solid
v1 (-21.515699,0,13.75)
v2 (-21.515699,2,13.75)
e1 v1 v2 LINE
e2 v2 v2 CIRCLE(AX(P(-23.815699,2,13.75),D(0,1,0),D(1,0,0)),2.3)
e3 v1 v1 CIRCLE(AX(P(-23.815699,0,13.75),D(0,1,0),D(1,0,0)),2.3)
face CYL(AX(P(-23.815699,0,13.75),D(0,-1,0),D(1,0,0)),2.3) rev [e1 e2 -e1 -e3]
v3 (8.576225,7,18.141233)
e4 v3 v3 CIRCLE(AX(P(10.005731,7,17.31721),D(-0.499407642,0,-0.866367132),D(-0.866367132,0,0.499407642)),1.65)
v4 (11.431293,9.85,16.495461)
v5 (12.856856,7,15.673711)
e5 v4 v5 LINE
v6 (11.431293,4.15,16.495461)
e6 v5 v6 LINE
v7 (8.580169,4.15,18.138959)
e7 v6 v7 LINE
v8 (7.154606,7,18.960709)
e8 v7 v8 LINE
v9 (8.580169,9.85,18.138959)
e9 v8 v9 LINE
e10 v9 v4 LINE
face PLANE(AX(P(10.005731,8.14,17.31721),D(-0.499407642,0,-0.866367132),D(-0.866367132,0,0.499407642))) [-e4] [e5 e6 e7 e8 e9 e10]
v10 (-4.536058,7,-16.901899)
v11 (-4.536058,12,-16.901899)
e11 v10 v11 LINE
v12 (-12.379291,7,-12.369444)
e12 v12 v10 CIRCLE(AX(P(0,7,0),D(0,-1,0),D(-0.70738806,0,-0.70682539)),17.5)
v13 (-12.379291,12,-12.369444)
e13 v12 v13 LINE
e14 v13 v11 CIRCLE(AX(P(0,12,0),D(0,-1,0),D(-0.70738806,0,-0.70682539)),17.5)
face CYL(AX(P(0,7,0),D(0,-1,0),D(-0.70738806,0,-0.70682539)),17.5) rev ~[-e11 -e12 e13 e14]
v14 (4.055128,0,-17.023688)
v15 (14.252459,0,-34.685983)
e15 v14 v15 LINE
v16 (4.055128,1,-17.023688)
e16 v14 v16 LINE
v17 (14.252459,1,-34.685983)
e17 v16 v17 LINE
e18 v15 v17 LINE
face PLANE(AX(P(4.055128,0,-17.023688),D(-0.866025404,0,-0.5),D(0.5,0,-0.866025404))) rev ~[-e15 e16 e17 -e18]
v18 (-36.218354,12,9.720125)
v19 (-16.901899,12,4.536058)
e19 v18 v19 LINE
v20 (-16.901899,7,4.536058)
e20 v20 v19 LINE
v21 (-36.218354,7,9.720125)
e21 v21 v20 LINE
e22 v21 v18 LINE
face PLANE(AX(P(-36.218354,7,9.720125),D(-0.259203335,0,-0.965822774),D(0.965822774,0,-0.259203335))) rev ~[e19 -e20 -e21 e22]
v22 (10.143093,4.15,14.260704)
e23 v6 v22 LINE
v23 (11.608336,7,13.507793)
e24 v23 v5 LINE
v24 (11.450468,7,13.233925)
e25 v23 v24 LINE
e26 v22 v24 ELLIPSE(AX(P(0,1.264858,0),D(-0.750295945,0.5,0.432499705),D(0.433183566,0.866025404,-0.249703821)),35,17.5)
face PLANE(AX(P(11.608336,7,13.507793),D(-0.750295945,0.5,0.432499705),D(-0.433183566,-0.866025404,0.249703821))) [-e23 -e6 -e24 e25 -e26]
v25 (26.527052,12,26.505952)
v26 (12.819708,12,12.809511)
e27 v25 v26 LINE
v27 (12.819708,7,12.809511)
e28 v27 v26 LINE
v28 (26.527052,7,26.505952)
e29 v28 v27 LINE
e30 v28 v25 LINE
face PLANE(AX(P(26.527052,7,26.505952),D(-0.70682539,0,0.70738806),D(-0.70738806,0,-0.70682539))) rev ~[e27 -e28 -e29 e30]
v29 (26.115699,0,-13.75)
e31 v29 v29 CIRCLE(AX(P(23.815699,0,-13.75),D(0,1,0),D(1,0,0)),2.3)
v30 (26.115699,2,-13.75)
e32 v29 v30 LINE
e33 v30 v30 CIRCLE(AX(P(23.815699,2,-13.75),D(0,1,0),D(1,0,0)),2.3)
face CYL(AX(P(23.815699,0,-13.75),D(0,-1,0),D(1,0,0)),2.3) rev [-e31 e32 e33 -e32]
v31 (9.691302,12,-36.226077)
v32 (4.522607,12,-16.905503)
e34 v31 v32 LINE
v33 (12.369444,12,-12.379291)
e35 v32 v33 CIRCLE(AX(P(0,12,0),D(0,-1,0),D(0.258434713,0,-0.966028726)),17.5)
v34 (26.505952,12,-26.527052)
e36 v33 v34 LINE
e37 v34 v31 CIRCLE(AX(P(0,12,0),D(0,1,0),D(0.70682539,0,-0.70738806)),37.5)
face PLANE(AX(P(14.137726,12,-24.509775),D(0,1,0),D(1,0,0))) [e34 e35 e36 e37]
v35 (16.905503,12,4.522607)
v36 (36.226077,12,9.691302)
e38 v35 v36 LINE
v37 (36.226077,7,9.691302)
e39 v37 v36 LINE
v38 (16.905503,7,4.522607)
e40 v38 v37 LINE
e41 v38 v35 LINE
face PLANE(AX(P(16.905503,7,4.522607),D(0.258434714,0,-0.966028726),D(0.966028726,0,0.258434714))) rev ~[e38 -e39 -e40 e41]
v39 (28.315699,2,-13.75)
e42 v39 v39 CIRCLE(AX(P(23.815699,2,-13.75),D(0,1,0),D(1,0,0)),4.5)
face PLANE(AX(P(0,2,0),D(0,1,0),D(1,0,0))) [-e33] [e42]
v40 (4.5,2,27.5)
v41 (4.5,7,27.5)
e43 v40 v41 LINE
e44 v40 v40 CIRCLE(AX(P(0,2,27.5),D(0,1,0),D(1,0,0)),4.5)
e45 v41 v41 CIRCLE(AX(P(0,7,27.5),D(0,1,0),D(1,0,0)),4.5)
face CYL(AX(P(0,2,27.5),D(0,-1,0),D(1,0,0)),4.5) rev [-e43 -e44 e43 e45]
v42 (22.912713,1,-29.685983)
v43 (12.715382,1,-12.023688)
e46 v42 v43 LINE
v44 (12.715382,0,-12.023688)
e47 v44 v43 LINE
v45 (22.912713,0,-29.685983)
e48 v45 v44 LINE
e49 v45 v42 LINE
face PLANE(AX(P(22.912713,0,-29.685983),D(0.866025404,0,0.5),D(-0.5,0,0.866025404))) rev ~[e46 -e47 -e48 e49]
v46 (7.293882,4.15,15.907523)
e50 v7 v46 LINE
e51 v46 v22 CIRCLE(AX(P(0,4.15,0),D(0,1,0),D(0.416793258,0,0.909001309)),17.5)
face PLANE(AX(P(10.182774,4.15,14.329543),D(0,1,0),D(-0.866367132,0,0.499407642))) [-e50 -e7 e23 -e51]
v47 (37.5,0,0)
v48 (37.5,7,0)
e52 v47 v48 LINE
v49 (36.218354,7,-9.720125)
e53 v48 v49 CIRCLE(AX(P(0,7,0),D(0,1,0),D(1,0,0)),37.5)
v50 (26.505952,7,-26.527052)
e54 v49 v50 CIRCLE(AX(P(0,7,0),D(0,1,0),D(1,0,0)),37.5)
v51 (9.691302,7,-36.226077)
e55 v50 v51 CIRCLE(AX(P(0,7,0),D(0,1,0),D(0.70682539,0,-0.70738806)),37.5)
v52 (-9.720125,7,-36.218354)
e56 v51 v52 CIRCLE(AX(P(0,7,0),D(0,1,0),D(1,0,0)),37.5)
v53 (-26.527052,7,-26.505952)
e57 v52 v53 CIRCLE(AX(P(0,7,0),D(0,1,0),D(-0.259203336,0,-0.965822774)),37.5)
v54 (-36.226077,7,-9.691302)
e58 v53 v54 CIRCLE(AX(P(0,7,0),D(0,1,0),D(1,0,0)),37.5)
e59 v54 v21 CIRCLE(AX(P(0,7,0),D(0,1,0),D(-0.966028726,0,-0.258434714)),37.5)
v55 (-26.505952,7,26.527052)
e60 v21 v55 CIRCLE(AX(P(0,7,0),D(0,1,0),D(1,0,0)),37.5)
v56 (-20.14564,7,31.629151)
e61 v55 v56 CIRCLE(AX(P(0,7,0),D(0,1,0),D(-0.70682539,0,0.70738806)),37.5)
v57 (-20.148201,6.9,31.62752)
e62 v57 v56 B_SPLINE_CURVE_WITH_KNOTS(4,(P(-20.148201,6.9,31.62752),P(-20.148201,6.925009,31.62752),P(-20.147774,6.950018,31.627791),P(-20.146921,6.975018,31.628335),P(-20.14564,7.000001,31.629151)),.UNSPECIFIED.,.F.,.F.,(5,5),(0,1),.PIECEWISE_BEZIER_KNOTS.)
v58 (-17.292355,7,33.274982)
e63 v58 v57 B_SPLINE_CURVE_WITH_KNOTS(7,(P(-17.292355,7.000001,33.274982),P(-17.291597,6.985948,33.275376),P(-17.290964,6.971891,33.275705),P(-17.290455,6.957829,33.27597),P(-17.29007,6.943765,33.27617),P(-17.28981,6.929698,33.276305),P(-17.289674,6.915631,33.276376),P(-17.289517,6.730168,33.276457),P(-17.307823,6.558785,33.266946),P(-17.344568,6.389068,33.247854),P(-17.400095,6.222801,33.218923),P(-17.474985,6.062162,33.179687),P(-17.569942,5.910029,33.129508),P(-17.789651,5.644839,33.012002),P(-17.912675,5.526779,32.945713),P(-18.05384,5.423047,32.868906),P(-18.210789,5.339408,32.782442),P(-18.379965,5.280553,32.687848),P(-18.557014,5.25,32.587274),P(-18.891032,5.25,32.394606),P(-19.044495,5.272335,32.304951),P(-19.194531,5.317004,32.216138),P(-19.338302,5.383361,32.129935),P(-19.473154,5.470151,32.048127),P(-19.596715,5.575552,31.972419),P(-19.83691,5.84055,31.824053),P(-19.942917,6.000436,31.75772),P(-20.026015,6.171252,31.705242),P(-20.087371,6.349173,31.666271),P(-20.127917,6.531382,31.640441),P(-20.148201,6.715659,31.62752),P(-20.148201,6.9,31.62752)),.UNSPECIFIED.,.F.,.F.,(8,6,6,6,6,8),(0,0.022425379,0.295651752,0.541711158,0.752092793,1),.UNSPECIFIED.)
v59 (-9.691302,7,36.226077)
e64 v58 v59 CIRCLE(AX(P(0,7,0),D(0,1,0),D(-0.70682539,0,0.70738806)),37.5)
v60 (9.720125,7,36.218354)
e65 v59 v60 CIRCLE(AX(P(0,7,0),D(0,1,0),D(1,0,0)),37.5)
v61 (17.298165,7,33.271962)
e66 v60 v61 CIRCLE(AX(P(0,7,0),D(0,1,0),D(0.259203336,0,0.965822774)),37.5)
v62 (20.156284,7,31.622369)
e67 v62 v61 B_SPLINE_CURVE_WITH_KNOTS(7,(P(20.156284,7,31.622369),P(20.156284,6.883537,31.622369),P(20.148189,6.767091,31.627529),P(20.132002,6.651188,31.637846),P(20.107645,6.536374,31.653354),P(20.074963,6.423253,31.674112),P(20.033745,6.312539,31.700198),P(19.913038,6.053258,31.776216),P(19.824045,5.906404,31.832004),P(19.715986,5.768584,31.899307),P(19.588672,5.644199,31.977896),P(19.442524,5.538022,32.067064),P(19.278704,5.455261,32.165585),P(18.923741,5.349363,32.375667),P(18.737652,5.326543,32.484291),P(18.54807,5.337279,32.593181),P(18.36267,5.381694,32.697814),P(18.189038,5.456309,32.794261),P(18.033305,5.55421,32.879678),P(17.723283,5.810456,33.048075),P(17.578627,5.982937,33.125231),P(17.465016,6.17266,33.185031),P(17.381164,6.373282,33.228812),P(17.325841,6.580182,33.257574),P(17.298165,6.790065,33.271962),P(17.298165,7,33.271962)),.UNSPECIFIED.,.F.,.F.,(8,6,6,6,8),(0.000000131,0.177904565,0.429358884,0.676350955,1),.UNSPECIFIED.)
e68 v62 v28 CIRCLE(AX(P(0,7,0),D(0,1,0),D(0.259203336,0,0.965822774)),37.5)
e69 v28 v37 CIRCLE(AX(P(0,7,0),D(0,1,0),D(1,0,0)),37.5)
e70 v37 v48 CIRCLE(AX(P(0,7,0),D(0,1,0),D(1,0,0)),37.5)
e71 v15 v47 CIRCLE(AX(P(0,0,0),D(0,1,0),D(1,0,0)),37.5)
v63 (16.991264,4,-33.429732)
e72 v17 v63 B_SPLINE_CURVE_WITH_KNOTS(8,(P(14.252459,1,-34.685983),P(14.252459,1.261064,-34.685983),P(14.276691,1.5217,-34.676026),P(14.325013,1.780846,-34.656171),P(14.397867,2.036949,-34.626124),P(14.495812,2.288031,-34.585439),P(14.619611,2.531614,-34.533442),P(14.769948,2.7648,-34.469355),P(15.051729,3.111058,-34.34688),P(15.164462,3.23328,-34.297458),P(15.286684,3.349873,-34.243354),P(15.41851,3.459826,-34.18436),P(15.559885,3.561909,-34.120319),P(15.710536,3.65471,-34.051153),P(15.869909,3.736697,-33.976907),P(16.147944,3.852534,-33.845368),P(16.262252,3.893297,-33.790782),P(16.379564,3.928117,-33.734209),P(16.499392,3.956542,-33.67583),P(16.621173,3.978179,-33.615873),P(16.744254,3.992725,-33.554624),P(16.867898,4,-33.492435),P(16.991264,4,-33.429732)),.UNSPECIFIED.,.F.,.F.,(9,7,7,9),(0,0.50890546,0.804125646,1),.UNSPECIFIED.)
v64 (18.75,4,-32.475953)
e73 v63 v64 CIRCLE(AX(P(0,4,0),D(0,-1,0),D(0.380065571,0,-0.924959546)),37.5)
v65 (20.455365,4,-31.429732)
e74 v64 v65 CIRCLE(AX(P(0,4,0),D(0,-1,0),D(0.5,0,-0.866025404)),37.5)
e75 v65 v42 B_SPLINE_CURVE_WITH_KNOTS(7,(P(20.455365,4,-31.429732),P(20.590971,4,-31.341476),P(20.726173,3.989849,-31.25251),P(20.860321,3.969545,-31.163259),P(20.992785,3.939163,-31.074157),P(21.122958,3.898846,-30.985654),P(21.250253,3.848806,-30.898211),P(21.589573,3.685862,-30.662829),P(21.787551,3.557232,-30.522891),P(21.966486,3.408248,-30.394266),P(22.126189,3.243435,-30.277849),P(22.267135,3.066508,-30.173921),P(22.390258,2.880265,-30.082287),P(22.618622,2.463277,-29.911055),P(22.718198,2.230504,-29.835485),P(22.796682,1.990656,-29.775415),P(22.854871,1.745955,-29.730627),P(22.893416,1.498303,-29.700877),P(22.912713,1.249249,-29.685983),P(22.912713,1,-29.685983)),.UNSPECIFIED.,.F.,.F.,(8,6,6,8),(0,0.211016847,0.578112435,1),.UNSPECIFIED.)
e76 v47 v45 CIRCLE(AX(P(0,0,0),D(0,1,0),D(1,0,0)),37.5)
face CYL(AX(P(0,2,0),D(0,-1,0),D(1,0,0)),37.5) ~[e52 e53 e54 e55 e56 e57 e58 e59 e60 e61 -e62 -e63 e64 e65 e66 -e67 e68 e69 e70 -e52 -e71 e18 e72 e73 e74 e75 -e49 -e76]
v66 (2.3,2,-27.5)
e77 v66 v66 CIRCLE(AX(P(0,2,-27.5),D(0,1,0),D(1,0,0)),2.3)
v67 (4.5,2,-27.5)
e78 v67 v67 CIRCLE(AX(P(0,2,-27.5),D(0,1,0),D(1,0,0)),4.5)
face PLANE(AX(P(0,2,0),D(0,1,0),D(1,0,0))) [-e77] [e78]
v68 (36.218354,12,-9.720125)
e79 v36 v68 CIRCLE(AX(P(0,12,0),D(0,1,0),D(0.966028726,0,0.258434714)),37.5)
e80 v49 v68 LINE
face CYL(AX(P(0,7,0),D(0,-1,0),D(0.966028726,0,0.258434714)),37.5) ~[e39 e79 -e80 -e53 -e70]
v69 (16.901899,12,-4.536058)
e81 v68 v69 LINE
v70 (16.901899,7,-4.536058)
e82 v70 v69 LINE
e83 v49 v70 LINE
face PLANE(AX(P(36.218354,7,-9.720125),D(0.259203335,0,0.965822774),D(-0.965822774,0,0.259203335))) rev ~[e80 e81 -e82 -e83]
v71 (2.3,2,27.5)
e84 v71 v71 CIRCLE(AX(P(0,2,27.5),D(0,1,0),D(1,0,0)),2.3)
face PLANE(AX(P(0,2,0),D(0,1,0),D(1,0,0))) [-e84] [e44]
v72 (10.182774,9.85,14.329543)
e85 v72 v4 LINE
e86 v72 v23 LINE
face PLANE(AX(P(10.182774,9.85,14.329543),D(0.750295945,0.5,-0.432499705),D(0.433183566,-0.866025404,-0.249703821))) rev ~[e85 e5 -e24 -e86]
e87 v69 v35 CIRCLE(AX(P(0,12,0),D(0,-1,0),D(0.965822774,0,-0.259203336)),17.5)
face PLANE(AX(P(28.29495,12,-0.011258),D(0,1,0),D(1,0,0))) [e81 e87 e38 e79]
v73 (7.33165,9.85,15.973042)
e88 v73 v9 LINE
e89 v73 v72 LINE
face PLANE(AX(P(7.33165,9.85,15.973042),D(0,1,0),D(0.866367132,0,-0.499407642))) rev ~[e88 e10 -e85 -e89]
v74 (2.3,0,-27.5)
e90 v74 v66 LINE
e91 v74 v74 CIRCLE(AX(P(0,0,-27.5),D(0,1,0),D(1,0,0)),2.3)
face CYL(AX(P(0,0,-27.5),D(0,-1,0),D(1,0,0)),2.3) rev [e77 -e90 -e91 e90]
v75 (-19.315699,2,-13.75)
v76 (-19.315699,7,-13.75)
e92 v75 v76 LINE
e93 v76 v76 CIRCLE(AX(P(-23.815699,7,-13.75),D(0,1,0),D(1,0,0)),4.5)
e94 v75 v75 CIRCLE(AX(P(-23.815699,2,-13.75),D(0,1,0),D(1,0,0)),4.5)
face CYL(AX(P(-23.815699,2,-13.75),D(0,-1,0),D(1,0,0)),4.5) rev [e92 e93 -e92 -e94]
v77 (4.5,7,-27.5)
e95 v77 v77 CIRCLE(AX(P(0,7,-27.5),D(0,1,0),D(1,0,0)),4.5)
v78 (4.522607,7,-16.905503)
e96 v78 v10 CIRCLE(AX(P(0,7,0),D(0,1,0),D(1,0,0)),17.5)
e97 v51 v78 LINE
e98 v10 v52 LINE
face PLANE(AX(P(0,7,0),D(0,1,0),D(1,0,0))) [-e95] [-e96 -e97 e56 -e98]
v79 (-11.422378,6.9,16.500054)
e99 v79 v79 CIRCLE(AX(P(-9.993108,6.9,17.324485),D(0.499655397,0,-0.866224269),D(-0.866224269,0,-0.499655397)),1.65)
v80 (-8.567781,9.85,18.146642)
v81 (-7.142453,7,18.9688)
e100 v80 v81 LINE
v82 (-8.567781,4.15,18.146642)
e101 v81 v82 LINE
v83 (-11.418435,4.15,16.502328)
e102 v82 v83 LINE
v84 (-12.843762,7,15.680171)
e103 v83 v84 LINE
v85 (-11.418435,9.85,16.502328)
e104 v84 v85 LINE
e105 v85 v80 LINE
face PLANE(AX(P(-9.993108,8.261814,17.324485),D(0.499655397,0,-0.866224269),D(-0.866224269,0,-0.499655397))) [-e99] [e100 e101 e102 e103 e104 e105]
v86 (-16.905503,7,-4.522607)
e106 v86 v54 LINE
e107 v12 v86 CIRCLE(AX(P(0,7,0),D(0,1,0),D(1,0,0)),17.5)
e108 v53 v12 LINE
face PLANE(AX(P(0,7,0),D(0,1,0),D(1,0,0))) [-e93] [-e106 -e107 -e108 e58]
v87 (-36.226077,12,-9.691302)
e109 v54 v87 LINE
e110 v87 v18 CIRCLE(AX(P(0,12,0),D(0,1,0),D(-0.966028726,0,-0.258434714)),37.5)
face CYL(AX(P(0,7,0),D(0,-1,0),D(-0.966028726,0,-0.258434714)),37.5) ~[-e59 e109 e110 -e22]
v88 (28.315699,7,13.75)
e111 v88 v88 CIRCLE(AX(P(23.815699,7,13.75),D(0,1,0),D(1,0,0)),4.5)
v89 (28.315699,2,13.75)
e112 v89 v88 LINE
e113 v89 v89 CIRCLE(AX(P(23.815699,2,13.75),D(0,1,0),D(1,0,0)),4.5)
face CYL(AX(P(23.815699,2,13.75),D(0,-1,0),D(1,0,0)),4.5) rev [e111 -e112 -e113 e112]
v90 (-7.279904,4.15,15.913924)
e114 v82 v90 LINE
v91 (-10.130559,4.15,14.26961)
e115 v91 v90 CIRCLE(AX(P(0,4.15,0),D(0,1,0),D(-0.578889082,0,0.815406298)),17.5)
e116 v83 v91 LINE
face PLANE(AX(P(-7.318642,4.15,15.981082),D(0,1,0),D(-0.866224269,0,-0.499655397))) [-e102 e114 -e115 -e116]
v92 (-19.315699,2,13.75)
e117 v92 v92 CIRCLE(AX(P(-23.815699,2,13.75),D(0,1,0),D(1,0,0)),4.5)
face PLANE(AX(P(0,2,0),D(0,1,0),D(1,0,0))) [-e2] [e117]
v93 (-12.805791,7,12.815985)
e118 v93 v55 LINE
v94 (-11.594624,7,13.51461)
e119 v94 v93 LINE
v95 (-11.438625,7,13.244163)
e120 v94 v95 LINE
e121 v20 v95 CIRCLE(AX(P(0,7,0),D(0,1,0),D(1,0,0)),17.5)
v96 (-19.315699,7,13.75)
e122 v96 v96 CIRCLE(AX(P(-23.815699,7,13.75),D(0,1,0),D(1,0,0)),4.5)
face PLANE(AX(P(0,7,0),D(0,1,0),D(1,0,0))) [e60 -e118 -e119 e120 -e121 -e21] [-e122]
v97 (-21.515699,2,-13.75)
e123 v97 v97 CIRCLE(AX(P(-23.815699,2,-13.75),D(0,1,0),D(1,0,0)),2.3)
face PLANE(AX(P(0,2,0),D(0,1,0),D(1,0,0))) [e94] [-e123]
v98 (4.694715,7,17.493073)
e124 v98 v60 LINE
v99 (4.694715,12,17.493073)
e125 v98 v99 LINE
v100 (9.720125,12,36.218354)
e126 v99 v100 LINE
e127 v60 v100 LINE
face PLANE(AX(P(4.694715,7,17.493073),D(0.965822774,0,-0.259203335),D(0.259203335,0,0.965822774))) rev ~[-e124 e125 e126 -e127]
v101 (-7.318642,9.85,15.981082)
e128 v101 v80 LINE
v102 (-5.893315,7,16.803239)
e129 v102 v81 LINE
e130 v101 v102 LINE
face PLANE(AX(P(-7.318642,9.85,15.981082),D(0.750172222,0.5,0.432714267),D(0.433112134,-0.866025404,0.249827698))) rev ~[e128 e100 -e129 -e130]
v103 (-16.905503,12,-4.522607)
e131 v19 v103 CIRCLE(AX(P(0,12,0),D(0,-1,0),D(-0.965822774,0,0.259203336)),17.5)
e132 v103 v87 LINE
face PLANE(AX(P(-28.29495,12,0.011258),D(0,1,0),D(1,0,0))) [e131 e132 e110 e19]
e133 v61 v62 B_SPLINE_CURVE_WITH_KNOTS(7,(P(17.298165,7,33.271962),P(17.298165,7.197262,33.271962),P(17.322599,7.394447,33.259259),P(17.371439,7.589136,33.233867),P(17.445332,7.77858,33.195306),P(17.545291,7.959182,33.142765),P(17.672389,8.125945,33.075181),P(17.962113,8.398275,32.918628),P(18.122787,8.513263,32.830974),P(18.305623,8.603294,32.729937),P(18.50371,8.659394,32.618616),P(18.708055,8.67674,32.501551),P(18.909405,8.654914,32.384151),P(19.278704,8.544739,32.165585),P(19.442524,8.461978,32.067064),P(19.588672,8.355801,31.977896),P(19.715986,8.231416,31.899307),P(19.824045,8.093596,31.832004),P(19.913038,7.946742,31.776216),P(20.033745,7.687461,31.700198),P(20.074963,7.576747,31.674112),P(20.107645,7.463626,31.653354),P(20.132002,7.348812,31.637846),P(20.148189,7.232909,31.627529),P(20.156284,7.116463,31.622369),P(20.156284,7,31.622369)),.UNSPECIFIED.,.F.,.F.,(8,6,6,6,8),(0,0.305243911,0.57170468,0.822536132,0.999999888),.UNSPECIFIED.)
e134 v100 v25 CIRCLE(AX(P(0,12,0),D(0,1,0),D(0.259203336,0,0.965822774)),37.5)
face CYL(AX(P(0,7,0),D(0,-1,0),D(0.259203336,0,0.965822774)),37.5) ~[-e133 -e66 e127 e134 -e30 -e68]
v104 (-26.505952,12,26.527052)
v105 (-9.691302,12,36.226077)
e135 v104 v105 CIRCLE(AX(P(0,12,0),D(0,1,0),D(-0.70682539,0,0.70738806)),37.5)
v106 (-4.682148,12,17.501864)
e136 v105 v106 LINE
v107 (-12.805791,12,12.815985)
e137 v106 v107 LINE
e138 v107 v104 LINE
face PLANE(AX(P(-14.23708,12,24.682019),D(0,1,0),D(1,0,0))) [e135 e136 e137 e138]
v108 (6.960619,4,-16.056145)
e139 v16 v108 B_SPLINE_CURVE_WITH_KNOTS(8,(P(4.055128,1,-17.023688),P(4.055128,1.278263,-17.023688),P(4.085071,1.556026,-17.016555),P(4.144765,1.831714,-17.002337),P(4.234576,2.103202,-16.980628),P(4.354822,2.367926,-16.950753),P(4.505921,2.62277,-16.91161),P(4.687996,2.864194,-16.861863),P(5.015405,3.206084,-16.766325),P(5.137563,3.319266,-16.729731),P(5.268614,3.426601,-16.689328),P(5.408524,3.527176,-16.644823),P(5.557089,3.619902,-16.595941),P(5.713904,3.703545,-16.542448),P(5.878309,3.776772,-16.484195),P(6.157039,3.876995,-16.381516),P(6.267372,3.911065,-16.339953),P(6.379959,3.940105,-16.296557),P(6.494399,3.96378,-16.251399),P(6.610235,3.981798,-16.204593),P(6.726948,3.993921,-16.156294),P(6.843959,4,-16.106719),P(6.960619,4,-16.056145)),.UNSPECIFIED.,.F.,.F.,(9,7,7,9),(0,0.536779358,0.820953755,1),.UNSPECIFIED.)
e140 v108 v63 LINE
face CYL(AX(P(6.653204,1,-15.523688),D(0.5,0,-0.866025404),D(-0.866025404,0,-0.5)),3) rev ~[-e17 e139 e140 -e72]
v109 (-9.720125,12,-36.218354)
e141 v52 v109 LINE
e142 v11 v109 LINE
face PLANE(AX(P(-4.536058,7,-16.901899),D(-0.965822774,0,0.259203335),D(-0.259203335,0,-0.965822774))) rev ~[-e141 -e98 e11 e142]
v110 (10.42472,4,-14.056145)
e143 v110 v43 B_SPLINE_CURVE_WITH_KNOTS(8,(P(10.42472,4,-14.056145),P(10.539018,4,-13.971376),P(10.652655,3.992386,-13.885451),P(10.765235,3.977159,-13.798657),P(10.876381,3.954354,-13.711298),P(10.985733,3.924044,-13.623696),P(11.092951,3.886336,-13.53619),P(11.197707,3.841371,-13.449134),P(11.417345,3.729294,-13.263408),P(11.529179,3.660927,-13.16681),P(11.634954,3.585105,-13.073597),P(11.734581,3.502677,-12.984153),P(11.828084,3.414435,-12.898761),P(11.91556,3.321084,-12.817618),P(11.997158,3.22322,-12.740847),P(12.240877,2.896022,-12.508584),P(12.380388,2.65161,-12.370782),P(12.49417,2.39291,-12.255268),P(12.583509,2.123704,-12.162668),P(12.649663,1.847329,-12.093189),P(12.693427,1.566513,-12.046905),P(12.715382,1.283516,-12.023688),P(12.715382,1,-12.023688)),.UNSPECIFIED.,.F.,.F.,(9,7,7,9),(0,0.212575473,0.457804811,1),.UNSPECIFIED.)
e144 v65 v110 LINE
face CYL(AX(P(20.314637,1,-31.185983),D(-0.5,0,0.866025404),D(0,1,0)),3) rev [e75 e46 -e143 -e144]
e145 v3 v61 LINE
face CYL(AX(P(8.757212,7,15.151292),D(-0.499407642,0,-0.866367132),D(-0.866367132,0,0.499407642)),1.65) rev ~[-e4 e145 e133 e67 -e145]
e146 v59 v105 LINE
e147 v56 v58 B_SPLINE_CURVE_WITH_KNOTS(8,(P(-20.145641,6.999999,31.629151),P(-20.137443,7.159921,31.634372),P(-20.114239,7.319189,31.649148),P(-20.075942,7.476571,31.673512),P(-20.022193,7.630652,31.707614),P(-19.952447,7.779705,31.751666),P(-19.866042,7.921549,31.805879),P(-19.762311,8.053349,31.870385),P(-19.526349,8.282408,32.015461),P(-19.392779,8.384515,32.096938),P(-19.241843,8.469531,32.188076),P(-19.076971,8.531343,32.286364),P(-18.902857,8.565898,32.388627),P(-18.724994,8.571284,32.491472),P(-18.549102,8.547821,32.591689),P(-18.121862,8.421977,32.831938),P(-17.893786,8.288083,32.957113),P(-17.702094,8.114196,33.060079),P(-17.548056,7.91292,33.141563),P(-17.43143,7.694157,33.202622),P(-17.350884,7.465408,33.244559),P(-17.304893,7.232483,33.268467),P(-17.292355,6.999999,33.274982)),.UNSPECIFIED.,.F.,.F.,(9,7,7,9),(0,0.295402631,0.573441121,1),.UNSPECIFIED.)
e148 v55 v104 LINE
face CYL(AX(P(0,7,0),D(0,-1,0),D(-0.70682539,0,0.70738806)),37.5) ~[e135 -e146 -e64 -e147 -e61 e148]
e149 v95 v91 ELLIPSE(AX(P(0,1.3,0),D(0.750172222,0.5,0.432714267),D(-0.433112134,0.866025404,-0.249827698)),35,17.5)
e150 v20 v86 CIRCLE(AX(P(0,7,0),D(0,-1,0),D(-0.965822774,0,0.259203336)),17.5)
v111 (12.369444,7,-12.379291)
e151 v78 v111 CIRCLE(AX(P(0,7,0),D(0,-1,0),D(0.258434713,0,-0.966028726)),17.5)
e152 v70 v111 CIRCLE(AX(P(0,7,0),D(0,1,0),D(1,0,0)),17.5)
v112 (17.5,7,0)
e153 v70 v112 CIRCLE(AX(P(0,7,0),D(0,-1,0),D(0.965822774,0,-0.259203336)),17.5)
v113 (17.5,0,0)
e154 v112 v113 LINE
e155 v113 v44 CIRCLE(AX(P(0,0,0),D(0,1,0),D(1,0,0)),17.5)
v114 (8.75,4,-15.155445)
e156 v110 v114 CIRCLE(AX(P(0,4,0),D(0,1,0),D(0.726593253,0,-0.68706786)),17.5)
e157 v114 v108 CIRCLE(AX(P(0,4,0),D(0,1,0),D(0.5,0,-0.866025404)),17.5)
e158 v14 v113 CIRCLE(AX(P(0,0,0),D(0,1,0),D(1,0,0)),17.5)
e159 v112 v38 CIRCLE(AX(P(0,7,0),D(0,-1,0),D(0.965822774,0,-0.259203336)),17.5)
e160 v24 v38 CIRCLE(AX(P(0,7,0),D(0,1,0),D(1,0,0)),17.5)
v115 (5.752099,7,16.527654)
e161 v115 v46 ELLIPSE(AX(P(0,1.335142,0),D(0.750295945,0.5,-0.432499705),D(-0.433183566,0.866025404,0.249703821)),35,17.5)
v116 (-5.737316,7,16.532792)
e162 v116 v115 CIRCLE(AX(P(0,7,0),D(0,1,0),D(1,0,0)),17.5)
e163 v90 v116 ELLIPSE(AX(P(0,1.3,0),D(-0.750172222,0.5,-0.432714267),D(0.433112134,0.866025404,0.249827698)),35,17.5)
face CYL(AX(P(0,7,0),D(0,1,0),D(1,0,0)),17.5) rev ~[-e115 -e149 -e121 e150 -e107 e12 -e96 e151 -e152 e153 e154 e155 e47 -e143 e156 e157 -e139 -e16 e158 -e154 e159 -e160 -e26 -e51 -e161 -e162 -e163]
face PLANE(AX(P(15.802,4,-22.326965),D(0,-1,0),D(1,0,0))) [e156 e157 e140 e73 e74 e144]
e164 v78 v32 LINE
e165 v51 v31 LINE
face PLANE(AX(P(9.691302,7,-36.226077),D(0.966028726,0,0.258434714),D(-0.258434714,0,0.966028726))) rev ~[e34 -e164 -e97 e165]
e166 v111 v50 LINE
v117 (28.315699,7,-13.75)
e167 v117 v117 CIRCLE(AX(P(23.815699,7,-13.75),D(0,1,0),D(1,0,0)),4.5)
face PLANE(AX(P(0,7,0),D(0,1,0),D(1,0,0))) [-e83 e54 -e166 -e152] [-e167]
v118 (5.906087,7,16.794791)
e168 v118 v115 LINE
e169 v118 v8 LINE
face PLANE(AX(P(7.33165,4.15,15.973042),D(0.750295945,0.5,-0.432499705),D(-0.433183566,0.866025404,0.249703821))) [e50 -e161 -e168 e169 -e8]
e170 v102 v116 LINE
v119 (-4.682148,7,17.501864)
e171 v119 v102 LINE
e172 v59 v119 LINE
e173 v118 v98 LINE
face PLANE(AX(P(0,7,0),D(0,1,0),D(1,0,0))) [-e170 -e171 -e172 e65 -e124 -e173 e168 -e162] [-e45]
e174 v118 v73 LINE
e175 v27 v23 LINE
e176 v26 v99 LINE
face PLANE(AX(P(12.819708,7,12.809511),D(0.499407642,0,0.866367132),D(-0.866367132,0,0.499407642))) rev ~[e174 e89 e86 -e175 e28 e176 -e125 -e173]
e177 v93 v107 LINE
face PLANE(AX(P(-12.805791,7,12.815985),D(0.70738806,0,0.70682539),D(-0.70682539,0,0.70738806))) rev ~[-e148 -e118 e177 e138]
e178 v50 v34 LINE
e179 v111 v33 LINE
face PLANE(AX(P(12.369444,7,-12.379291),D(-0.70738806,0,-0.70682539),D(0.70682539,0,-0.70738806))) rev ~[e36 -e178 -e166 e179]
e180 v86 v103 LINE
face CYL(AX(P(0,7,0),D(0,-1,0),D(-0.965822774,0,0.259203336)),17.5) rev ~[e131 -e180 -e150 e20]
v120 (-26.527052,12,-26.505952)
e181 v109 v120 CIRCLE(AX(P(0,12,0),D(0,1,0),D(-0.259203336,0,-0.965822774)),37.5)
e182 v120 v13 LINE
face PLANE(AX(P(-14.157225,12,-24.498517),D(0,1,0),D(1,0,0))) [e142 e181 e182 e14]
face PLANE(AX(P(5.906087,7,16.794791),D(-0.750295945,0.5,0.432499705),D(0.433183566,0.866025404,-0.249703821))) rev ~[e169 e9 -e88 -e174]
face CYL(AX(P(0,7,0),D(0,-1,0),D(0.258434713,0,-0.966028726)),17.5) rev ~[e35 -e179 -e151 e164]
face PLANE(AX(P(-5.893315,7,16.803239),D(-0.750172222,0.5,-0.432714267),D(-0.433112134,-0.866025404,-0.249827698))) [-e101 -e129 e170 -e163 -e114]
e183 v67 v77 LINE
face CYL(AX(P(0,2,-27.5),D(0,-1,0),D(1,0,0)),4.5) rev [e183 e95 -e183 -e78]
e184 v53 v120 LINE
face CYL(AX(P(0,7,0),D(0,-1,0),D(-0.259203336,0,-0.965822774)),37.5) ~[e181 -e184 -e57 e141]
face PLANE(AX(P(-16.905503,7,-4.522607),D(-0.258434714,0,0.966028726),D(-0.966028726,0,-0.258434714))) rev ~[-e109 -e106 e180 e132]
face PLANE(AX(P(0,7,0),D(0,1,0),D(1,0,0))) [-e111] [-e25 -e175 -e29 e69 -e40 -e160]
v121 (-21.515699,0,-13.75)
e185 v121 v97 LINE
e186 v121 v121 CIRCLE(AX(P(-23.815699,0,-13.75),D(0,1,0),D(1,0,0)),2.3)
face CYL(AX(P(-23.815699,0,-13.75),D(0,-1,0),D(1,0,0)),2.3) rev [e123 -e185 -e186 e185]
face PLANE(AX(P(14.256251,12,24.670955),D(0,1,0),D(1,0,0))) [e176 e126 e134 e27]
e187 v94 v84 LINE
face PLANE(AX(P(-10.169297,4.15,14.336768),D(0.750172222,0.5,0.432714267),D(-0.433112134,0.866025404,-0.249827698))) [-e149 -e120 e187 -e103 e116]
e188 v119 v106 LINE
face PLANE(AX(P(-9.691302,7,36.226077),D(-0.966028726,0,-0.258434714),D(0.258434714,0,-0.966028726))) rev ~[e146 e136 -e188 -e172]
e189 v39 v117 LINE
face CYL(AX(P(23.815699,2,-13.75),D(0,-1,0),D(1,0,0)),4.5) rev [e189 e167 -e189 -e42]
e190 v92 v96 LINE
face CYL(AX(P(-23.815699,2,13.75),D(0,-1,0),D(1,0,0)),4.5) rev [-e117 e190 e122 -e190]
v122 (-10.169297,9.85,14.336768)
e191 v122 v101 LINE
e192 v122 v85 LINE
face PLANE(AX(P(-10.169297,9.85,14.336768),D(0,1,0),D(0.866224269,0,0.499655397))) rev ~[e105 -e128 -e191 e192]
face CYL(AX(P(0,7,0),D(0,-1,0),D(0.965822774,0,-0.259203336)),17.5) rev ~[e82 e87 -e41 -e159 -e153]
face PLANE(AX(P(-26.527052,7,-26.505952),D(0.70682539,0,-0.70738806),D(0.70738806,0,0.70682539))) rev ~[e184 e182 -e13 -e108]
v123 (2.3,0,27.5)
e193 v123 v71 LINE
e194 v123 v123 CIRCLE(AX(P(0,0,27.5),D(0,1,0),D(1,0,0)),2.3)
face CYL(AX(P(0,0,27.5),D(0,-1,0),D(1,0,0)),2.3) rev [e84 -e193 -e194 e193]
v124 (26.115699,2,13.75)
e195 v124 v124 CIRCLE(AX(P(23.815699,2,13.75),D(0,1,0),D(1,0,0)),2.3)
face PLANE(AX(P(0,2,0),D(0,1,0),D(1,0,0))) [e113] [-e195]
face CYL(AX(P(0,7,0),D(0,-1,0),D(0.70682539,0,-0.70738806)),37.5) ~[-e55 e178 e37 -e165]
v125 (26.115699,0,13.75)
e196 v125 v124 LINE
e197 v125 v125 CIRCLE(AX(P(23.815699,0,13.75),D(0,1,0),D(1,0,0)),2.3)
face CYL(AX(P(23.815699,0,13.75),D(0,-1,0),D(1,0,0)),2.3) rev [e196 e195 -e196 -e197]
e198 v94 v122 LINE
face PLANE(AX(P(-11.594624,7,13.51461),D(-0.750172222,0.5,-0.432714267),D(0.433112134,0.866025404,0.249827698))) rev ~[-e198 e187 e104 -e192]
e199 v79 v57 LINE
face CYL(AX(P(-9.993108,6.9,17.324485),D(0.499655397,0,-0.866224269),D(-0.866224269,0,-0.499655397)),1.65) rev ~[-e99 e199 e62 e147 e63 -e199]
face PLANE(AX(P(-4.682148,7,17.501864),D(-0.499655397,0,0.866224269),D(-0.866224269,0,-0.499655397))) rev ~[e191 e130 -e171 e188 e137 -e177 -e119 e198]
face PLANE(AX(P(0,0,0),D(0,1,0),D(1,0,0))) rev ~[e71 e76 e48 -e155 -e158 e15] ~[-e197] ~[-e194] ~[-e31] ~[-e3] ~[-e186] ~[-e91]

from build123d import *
from build123d.topology import SkipClean

# Parameters (mm, degrees)
SKETCH1_R               = 37.5
SKETCH1_R_2             = 2.3
BOSS_EXTRUDE1_DEPTH     = 2
SKETCH2_R               = 37.5
SKETCH2_R_2             = 4.5
BOSS_EXTRUDE2_DEPTH     = 5
BOSS_EXTRUDE3_DEPTH     = 5
CUT_EXTRUDE1_START      = -7
SKETCH4_R               = 17.5
CUT_EXTRUDE1_DEPTH      = 7
CUT_EXTRUDE2_DEPTH      = 7
CUT_EXTRUDE2_DEPTH_BACK = 2.5
CUT_EXTRUDE4_DEPTH      = 3
CUT_EXTRUDE4_DEPTH_BACK = 2.5
SKETCH10_R              = 1.65
CUT_EXTRUDE7_DEPTH      = 20
SKETCH9_R               = 1.65
CUT_EXTRUDE6_DEPTH      = 20
CUT_EXTRUDE8_DEPTH      = 4
FILLET1_R               = 3


with BuildPart() as part:
    # Sketch1 → Boss-Extrude1 (new body)
    with BuildSketch(Plane(origin=(0, 0, 0), x_dir=(1, 0, 0), z_dir=(0, 1, 0))):
        Circle(SKETCH1_R)
        with Locations((0, 27.5)):
            Circle(SKETCH1_R_2, mode=Mode.SUBTRACT)
        with Locations((23.815698604, 13.75)):
            Circle(SKETCH1_R_2, mode=Mode.SUBTRACT)
        with Locations((23.815698604, -13.75)):
            Circle(SKETCH1_R_2, mode=Mode.SUBTRACT)
        with Locations((0, -27.5)):
            Circle(SKETCH1_R_2, mode=Mode.SUBTRACT)
        with Locations((-23.815698604, -13.75)):
            Circle(SKETCH1_R_2, mode=Mode.SUBTRACT)
        with Locations((-23.815698604, 13.75)):
            Circle(SKETCH1_R_2, mode=Mode.SUBTRACT)
    extrude(amount=BOSS_EXTRUDE1_DEPTH)

    # Sketch2 → Boss-Extrude2 (add)
    with BuildSketch(Plane(origin=(0, 2, 0), x_dir=(1, 0, 0), z_dir=(0, 1, 0))):
        Circle(SKETCH2_R)
        with Locations((-23.815698604, -13.75)):
            Circle(SKETCH2_R_2, mode=Mode.SUBTRACT)
        with Locations((0, -27.5)):
            Circle(SKETCH2_R_2, mode=Mode.SUBTRACT)
        with Locations((23.815698604, -13.75)):
            Circle(SKETCH2_R_2, mode=Mode.SUBTRACT)
        with Locations((-23.815698604, 13.75)):
            Circle(SKETCH2_R_2, mode=Mode.SUBTRACT)
        with Locations((23.815698604, 13.75)):
            Circle(SKETCH2_R_2, mode=Mode.SUBTRACT)
        with Locations((0, 27.5)):
            Circle(SKETCH2_R_2, mode=Mode.SUBTRACT)
    extrude(amount=BOSS_EXTRUDE2_DEPTH)

    # Sketch3 → Boss-Extrude3 (add)
    with BuildSketch(Plane(origin=(0, 7, 0), x_dir=(1, 0, 0), z_dir=(0, 1, 0))):
        with BuildLine():
            Line((-26.527052262, 26.50595213), (-12.379291055, 12.369444327))
            ThreePointArc((-12.379291055, 12.369444327), (-8.756029172, 15.151962023), (-4.536058371, 16.901898546))
            Line((-4.536058371, 16.901898546), (-9.720125081, 36.218354027))
            ThreePointArc((-9.720125081, 36.218354027), (-18.762919655, 32.468490048), (-26.527052262, 26.50595213))
        make_face()
        with BuildLine():
            ThreePointArc((-16.901898546, -4.536058371), (-17.499998615, -0.006962688), (-16.905502698, 4.52260749))
            Line((-16.905502698, 4.52260749), (-36.226077211, 9.691301765))
            ThreePointArc((-36.226077211, 9.691301765), (-37.499997032, -0.014920046), (-36.218354027, -9.720125081))
            Line((-36.218354027, -9.720125081), (-16.901898546, -4.536058371))
        make_face()
        with BuildLine():
            ThreePointArc((4.52260749, 16.905502698), (8.743969443, 15.158924711), (12.369444327, 12.379291055))
            Line((12.369444327, 12.379291055), (26.50595213, 26.527052262))
            ThreePointArc((26.50595213, 26.527052262), (18.737077377, 32.483410095), (9.691301765, 36.226077211))
            Line((9.691301765, 36.226077211), (4.52260749, 16.905502698))
        make_face()
        with BuildLine():
            ThreePointArc((16.901898546, 4.536058371), (17.499998615, 0.006962688), (16.905502698, -4.52260749))
            Line((16.905502698, -4.52260749), (36.226077211, -9.691301765))
            ThreePointArc((36.226077211, -9.691301765), (37.499997032, 0.014920046), (36.218354027, 9.720125081))
            Line((36.218354027, 9.720125081), (16.901898546, 4.536058371))
        make_face()
        with BuildLine():
            Line((-12.805791077, -12.81598516), (-26.50595213, -26.527052262))
            ThreePointArc((-26.50595213, -26.527052262), (-18.737077377, -32.483410095), (-9.691301765, -36.226077211))
            Line((-9.691301765, -36.226077211), (-4.682147808, -17.501864262))
            Line((-4.682147808, -17.501864262), (-12.805791077, -12.81598516))
        make_face()
        with BuildLine():
            Line((12.819708432, -12.809511387), (4.694715176, -17.493072864))
            Line((4.694715176, -17.493072864), (9.720125081, -36.218354027))
            ThreePointArc((9.720125081, -36.218354027), (18.762919655, -32.468490048), (26.527052262, -26.50595213))
            Line((26.527052262, -26.50595213), (12.819708432, -12.809511387))
        make_face()
    extrude(amount=BOSS_EXTRUDE3_DEPTH)

    # Sketch4 → Cut-Extrude1 (cut)
    with SkipClean():  # the faces are left unmerged after this step: merging them gives an invalid solid
        with BuildSketch(Plane(origin=(0, 7, 0), x_dir=(1, 0, 0), z_dir=(0, 1, 0)).offset(CUT_EXTRUDE1_START)):
            Circle(SKETCH4_R)
        extrude(amount=CUT_EXTRUDE1_DEPTH, mode=Mode.SUBTRACT)

    # Sketch5 → Cut-Extrude2 (cut, two sides: drawn at the far end of the back side and taken through both)
    with SkipClean():  # the faces are left unmerged after this step: merging them gives an invalid solid
        with BuildSketch(Plane(origin=(-8.743969443, 0, 15.158924711), x_dir=(-0.8662242691872709, 0, -0.49965539671955755), z_dir=(0.49965539671955755, 0, -0.8662242691872709)).offset(-CUT_EXTRUDE2_DEPTH_BACK)):
            Polygon((-1.645448267, 9.85), (-3.290896534, 7), (-1.645448267, 4.15), (1.645448267, 4.15), (3.290896534, 7), (1.645448267, 9.85), align=None)
        extrude(amount=CUT_EXTRUDE2_DEPTH + CUT_EXTRUDE2_DEPTH_BACK, mode=Mode.SUBTRACT)

    # Sketch7 → Cut-Extrude4 (cut, two sides: drawn at the far end of the back side and taken through both)
    with SkipClean():  # the faces are left unmerged after this step: merging them gives an invalid solid
        with BuildSketch(Plane(origin=(8.739633736, 0, 15.161424807), x_dir=(-0.8663671318105545, 0, 0.49940764203038923), z_dir=(-0.49940764203038923, 0, -0.8663671318105545)).offset(-CUT_EXTRUDE4_DEPTH_BACK)):
            Polygon((-1.665737666, 9.85), (-3.311185933, 7), (-1.665737666, 4.15), (1.625158868, 4.15), (3.270607135, 7), (1.625158868, 9.85), align=None)
        extrude(amount=CUT_EXTRUDE4_DEPTH + CUT_EXTRUDE4_DEPTH_BACK, mode=Mode.SUBTRACT)

    # Sketch10 → Cut-Extrude7 (cut)
    with SkipClean():  # the faces are left unmerged after this step: merging them gives an invalid solid
        with BuildSketch(Plane(origin=(8.739633736, 0, 15.161424807), x_dir=(-0.8663671318105323, 0, 0.49940764203042776), z_dir=(-0.4994076420304278, 0, -0.8663671318105324))):
            with Locations((-0.020289399, 7)):
                Circle(SKETCH10_R)
        extrude(amount=-CUT_EXTRUDE7_DEPTH, mode=Mode.SUBTRACT)

    # Sketch9 → Cut-Extrude6 (cut)
    with SkipClean():  # the faces are left unmerged after this step: merging them gives an invalid solid
        with BuildSketch(Plane(origin=(-9.993107934, 0, 17.324485384), x_dir=(-0.866224269187271, 0, -0.4996553967195575), z_dir=(0.49965539671955744, 0, -0.8662242691872709))):
            with Locations((0, 6.9)):
                Circle(SKETCH9_R)
        extrude(amount=-CUT_EXTRUDE6_DEPTH, mode=Mode.SUBTRACT)

    # Sketch14 → Cut-Extrude8 (cut)
    with SkipClean():  # the faces are left unmerged after this step: merging them gives an invalid solid
        with BuildSketch(Plane.XZ):
            with BuildLine():
                Line((4.055127897, -17.023687548), (14.252458915, -34.685982974))
                ThreePointArc((14.252458915, -34.685982974), (18.75, -32.475952642), (22.912712953, -29.685982974))
                Line((22.912712953, -29.685982974), (12.715381935, -12.023687548))
                ThreePointArc((12.715381935, -12.023687548), (8.75, -15.155444566), (4.055127897, -17.023687548))
            make_face()
        extrude(amount=-CUT_EXTRUDE8_DEPTH, mode=Mode.SUBTRACT)

    # Fillet1
    fillet1_edges = [part.edges().sort_by_distance(p)[0] for p in [
        (17.814047444, 4, -20.854835261),
        (9.153793406, 4, -25.854835261),
    ]]
    fillet(fillet1_edges, radius=FILLET1_R)


solid = part.part
